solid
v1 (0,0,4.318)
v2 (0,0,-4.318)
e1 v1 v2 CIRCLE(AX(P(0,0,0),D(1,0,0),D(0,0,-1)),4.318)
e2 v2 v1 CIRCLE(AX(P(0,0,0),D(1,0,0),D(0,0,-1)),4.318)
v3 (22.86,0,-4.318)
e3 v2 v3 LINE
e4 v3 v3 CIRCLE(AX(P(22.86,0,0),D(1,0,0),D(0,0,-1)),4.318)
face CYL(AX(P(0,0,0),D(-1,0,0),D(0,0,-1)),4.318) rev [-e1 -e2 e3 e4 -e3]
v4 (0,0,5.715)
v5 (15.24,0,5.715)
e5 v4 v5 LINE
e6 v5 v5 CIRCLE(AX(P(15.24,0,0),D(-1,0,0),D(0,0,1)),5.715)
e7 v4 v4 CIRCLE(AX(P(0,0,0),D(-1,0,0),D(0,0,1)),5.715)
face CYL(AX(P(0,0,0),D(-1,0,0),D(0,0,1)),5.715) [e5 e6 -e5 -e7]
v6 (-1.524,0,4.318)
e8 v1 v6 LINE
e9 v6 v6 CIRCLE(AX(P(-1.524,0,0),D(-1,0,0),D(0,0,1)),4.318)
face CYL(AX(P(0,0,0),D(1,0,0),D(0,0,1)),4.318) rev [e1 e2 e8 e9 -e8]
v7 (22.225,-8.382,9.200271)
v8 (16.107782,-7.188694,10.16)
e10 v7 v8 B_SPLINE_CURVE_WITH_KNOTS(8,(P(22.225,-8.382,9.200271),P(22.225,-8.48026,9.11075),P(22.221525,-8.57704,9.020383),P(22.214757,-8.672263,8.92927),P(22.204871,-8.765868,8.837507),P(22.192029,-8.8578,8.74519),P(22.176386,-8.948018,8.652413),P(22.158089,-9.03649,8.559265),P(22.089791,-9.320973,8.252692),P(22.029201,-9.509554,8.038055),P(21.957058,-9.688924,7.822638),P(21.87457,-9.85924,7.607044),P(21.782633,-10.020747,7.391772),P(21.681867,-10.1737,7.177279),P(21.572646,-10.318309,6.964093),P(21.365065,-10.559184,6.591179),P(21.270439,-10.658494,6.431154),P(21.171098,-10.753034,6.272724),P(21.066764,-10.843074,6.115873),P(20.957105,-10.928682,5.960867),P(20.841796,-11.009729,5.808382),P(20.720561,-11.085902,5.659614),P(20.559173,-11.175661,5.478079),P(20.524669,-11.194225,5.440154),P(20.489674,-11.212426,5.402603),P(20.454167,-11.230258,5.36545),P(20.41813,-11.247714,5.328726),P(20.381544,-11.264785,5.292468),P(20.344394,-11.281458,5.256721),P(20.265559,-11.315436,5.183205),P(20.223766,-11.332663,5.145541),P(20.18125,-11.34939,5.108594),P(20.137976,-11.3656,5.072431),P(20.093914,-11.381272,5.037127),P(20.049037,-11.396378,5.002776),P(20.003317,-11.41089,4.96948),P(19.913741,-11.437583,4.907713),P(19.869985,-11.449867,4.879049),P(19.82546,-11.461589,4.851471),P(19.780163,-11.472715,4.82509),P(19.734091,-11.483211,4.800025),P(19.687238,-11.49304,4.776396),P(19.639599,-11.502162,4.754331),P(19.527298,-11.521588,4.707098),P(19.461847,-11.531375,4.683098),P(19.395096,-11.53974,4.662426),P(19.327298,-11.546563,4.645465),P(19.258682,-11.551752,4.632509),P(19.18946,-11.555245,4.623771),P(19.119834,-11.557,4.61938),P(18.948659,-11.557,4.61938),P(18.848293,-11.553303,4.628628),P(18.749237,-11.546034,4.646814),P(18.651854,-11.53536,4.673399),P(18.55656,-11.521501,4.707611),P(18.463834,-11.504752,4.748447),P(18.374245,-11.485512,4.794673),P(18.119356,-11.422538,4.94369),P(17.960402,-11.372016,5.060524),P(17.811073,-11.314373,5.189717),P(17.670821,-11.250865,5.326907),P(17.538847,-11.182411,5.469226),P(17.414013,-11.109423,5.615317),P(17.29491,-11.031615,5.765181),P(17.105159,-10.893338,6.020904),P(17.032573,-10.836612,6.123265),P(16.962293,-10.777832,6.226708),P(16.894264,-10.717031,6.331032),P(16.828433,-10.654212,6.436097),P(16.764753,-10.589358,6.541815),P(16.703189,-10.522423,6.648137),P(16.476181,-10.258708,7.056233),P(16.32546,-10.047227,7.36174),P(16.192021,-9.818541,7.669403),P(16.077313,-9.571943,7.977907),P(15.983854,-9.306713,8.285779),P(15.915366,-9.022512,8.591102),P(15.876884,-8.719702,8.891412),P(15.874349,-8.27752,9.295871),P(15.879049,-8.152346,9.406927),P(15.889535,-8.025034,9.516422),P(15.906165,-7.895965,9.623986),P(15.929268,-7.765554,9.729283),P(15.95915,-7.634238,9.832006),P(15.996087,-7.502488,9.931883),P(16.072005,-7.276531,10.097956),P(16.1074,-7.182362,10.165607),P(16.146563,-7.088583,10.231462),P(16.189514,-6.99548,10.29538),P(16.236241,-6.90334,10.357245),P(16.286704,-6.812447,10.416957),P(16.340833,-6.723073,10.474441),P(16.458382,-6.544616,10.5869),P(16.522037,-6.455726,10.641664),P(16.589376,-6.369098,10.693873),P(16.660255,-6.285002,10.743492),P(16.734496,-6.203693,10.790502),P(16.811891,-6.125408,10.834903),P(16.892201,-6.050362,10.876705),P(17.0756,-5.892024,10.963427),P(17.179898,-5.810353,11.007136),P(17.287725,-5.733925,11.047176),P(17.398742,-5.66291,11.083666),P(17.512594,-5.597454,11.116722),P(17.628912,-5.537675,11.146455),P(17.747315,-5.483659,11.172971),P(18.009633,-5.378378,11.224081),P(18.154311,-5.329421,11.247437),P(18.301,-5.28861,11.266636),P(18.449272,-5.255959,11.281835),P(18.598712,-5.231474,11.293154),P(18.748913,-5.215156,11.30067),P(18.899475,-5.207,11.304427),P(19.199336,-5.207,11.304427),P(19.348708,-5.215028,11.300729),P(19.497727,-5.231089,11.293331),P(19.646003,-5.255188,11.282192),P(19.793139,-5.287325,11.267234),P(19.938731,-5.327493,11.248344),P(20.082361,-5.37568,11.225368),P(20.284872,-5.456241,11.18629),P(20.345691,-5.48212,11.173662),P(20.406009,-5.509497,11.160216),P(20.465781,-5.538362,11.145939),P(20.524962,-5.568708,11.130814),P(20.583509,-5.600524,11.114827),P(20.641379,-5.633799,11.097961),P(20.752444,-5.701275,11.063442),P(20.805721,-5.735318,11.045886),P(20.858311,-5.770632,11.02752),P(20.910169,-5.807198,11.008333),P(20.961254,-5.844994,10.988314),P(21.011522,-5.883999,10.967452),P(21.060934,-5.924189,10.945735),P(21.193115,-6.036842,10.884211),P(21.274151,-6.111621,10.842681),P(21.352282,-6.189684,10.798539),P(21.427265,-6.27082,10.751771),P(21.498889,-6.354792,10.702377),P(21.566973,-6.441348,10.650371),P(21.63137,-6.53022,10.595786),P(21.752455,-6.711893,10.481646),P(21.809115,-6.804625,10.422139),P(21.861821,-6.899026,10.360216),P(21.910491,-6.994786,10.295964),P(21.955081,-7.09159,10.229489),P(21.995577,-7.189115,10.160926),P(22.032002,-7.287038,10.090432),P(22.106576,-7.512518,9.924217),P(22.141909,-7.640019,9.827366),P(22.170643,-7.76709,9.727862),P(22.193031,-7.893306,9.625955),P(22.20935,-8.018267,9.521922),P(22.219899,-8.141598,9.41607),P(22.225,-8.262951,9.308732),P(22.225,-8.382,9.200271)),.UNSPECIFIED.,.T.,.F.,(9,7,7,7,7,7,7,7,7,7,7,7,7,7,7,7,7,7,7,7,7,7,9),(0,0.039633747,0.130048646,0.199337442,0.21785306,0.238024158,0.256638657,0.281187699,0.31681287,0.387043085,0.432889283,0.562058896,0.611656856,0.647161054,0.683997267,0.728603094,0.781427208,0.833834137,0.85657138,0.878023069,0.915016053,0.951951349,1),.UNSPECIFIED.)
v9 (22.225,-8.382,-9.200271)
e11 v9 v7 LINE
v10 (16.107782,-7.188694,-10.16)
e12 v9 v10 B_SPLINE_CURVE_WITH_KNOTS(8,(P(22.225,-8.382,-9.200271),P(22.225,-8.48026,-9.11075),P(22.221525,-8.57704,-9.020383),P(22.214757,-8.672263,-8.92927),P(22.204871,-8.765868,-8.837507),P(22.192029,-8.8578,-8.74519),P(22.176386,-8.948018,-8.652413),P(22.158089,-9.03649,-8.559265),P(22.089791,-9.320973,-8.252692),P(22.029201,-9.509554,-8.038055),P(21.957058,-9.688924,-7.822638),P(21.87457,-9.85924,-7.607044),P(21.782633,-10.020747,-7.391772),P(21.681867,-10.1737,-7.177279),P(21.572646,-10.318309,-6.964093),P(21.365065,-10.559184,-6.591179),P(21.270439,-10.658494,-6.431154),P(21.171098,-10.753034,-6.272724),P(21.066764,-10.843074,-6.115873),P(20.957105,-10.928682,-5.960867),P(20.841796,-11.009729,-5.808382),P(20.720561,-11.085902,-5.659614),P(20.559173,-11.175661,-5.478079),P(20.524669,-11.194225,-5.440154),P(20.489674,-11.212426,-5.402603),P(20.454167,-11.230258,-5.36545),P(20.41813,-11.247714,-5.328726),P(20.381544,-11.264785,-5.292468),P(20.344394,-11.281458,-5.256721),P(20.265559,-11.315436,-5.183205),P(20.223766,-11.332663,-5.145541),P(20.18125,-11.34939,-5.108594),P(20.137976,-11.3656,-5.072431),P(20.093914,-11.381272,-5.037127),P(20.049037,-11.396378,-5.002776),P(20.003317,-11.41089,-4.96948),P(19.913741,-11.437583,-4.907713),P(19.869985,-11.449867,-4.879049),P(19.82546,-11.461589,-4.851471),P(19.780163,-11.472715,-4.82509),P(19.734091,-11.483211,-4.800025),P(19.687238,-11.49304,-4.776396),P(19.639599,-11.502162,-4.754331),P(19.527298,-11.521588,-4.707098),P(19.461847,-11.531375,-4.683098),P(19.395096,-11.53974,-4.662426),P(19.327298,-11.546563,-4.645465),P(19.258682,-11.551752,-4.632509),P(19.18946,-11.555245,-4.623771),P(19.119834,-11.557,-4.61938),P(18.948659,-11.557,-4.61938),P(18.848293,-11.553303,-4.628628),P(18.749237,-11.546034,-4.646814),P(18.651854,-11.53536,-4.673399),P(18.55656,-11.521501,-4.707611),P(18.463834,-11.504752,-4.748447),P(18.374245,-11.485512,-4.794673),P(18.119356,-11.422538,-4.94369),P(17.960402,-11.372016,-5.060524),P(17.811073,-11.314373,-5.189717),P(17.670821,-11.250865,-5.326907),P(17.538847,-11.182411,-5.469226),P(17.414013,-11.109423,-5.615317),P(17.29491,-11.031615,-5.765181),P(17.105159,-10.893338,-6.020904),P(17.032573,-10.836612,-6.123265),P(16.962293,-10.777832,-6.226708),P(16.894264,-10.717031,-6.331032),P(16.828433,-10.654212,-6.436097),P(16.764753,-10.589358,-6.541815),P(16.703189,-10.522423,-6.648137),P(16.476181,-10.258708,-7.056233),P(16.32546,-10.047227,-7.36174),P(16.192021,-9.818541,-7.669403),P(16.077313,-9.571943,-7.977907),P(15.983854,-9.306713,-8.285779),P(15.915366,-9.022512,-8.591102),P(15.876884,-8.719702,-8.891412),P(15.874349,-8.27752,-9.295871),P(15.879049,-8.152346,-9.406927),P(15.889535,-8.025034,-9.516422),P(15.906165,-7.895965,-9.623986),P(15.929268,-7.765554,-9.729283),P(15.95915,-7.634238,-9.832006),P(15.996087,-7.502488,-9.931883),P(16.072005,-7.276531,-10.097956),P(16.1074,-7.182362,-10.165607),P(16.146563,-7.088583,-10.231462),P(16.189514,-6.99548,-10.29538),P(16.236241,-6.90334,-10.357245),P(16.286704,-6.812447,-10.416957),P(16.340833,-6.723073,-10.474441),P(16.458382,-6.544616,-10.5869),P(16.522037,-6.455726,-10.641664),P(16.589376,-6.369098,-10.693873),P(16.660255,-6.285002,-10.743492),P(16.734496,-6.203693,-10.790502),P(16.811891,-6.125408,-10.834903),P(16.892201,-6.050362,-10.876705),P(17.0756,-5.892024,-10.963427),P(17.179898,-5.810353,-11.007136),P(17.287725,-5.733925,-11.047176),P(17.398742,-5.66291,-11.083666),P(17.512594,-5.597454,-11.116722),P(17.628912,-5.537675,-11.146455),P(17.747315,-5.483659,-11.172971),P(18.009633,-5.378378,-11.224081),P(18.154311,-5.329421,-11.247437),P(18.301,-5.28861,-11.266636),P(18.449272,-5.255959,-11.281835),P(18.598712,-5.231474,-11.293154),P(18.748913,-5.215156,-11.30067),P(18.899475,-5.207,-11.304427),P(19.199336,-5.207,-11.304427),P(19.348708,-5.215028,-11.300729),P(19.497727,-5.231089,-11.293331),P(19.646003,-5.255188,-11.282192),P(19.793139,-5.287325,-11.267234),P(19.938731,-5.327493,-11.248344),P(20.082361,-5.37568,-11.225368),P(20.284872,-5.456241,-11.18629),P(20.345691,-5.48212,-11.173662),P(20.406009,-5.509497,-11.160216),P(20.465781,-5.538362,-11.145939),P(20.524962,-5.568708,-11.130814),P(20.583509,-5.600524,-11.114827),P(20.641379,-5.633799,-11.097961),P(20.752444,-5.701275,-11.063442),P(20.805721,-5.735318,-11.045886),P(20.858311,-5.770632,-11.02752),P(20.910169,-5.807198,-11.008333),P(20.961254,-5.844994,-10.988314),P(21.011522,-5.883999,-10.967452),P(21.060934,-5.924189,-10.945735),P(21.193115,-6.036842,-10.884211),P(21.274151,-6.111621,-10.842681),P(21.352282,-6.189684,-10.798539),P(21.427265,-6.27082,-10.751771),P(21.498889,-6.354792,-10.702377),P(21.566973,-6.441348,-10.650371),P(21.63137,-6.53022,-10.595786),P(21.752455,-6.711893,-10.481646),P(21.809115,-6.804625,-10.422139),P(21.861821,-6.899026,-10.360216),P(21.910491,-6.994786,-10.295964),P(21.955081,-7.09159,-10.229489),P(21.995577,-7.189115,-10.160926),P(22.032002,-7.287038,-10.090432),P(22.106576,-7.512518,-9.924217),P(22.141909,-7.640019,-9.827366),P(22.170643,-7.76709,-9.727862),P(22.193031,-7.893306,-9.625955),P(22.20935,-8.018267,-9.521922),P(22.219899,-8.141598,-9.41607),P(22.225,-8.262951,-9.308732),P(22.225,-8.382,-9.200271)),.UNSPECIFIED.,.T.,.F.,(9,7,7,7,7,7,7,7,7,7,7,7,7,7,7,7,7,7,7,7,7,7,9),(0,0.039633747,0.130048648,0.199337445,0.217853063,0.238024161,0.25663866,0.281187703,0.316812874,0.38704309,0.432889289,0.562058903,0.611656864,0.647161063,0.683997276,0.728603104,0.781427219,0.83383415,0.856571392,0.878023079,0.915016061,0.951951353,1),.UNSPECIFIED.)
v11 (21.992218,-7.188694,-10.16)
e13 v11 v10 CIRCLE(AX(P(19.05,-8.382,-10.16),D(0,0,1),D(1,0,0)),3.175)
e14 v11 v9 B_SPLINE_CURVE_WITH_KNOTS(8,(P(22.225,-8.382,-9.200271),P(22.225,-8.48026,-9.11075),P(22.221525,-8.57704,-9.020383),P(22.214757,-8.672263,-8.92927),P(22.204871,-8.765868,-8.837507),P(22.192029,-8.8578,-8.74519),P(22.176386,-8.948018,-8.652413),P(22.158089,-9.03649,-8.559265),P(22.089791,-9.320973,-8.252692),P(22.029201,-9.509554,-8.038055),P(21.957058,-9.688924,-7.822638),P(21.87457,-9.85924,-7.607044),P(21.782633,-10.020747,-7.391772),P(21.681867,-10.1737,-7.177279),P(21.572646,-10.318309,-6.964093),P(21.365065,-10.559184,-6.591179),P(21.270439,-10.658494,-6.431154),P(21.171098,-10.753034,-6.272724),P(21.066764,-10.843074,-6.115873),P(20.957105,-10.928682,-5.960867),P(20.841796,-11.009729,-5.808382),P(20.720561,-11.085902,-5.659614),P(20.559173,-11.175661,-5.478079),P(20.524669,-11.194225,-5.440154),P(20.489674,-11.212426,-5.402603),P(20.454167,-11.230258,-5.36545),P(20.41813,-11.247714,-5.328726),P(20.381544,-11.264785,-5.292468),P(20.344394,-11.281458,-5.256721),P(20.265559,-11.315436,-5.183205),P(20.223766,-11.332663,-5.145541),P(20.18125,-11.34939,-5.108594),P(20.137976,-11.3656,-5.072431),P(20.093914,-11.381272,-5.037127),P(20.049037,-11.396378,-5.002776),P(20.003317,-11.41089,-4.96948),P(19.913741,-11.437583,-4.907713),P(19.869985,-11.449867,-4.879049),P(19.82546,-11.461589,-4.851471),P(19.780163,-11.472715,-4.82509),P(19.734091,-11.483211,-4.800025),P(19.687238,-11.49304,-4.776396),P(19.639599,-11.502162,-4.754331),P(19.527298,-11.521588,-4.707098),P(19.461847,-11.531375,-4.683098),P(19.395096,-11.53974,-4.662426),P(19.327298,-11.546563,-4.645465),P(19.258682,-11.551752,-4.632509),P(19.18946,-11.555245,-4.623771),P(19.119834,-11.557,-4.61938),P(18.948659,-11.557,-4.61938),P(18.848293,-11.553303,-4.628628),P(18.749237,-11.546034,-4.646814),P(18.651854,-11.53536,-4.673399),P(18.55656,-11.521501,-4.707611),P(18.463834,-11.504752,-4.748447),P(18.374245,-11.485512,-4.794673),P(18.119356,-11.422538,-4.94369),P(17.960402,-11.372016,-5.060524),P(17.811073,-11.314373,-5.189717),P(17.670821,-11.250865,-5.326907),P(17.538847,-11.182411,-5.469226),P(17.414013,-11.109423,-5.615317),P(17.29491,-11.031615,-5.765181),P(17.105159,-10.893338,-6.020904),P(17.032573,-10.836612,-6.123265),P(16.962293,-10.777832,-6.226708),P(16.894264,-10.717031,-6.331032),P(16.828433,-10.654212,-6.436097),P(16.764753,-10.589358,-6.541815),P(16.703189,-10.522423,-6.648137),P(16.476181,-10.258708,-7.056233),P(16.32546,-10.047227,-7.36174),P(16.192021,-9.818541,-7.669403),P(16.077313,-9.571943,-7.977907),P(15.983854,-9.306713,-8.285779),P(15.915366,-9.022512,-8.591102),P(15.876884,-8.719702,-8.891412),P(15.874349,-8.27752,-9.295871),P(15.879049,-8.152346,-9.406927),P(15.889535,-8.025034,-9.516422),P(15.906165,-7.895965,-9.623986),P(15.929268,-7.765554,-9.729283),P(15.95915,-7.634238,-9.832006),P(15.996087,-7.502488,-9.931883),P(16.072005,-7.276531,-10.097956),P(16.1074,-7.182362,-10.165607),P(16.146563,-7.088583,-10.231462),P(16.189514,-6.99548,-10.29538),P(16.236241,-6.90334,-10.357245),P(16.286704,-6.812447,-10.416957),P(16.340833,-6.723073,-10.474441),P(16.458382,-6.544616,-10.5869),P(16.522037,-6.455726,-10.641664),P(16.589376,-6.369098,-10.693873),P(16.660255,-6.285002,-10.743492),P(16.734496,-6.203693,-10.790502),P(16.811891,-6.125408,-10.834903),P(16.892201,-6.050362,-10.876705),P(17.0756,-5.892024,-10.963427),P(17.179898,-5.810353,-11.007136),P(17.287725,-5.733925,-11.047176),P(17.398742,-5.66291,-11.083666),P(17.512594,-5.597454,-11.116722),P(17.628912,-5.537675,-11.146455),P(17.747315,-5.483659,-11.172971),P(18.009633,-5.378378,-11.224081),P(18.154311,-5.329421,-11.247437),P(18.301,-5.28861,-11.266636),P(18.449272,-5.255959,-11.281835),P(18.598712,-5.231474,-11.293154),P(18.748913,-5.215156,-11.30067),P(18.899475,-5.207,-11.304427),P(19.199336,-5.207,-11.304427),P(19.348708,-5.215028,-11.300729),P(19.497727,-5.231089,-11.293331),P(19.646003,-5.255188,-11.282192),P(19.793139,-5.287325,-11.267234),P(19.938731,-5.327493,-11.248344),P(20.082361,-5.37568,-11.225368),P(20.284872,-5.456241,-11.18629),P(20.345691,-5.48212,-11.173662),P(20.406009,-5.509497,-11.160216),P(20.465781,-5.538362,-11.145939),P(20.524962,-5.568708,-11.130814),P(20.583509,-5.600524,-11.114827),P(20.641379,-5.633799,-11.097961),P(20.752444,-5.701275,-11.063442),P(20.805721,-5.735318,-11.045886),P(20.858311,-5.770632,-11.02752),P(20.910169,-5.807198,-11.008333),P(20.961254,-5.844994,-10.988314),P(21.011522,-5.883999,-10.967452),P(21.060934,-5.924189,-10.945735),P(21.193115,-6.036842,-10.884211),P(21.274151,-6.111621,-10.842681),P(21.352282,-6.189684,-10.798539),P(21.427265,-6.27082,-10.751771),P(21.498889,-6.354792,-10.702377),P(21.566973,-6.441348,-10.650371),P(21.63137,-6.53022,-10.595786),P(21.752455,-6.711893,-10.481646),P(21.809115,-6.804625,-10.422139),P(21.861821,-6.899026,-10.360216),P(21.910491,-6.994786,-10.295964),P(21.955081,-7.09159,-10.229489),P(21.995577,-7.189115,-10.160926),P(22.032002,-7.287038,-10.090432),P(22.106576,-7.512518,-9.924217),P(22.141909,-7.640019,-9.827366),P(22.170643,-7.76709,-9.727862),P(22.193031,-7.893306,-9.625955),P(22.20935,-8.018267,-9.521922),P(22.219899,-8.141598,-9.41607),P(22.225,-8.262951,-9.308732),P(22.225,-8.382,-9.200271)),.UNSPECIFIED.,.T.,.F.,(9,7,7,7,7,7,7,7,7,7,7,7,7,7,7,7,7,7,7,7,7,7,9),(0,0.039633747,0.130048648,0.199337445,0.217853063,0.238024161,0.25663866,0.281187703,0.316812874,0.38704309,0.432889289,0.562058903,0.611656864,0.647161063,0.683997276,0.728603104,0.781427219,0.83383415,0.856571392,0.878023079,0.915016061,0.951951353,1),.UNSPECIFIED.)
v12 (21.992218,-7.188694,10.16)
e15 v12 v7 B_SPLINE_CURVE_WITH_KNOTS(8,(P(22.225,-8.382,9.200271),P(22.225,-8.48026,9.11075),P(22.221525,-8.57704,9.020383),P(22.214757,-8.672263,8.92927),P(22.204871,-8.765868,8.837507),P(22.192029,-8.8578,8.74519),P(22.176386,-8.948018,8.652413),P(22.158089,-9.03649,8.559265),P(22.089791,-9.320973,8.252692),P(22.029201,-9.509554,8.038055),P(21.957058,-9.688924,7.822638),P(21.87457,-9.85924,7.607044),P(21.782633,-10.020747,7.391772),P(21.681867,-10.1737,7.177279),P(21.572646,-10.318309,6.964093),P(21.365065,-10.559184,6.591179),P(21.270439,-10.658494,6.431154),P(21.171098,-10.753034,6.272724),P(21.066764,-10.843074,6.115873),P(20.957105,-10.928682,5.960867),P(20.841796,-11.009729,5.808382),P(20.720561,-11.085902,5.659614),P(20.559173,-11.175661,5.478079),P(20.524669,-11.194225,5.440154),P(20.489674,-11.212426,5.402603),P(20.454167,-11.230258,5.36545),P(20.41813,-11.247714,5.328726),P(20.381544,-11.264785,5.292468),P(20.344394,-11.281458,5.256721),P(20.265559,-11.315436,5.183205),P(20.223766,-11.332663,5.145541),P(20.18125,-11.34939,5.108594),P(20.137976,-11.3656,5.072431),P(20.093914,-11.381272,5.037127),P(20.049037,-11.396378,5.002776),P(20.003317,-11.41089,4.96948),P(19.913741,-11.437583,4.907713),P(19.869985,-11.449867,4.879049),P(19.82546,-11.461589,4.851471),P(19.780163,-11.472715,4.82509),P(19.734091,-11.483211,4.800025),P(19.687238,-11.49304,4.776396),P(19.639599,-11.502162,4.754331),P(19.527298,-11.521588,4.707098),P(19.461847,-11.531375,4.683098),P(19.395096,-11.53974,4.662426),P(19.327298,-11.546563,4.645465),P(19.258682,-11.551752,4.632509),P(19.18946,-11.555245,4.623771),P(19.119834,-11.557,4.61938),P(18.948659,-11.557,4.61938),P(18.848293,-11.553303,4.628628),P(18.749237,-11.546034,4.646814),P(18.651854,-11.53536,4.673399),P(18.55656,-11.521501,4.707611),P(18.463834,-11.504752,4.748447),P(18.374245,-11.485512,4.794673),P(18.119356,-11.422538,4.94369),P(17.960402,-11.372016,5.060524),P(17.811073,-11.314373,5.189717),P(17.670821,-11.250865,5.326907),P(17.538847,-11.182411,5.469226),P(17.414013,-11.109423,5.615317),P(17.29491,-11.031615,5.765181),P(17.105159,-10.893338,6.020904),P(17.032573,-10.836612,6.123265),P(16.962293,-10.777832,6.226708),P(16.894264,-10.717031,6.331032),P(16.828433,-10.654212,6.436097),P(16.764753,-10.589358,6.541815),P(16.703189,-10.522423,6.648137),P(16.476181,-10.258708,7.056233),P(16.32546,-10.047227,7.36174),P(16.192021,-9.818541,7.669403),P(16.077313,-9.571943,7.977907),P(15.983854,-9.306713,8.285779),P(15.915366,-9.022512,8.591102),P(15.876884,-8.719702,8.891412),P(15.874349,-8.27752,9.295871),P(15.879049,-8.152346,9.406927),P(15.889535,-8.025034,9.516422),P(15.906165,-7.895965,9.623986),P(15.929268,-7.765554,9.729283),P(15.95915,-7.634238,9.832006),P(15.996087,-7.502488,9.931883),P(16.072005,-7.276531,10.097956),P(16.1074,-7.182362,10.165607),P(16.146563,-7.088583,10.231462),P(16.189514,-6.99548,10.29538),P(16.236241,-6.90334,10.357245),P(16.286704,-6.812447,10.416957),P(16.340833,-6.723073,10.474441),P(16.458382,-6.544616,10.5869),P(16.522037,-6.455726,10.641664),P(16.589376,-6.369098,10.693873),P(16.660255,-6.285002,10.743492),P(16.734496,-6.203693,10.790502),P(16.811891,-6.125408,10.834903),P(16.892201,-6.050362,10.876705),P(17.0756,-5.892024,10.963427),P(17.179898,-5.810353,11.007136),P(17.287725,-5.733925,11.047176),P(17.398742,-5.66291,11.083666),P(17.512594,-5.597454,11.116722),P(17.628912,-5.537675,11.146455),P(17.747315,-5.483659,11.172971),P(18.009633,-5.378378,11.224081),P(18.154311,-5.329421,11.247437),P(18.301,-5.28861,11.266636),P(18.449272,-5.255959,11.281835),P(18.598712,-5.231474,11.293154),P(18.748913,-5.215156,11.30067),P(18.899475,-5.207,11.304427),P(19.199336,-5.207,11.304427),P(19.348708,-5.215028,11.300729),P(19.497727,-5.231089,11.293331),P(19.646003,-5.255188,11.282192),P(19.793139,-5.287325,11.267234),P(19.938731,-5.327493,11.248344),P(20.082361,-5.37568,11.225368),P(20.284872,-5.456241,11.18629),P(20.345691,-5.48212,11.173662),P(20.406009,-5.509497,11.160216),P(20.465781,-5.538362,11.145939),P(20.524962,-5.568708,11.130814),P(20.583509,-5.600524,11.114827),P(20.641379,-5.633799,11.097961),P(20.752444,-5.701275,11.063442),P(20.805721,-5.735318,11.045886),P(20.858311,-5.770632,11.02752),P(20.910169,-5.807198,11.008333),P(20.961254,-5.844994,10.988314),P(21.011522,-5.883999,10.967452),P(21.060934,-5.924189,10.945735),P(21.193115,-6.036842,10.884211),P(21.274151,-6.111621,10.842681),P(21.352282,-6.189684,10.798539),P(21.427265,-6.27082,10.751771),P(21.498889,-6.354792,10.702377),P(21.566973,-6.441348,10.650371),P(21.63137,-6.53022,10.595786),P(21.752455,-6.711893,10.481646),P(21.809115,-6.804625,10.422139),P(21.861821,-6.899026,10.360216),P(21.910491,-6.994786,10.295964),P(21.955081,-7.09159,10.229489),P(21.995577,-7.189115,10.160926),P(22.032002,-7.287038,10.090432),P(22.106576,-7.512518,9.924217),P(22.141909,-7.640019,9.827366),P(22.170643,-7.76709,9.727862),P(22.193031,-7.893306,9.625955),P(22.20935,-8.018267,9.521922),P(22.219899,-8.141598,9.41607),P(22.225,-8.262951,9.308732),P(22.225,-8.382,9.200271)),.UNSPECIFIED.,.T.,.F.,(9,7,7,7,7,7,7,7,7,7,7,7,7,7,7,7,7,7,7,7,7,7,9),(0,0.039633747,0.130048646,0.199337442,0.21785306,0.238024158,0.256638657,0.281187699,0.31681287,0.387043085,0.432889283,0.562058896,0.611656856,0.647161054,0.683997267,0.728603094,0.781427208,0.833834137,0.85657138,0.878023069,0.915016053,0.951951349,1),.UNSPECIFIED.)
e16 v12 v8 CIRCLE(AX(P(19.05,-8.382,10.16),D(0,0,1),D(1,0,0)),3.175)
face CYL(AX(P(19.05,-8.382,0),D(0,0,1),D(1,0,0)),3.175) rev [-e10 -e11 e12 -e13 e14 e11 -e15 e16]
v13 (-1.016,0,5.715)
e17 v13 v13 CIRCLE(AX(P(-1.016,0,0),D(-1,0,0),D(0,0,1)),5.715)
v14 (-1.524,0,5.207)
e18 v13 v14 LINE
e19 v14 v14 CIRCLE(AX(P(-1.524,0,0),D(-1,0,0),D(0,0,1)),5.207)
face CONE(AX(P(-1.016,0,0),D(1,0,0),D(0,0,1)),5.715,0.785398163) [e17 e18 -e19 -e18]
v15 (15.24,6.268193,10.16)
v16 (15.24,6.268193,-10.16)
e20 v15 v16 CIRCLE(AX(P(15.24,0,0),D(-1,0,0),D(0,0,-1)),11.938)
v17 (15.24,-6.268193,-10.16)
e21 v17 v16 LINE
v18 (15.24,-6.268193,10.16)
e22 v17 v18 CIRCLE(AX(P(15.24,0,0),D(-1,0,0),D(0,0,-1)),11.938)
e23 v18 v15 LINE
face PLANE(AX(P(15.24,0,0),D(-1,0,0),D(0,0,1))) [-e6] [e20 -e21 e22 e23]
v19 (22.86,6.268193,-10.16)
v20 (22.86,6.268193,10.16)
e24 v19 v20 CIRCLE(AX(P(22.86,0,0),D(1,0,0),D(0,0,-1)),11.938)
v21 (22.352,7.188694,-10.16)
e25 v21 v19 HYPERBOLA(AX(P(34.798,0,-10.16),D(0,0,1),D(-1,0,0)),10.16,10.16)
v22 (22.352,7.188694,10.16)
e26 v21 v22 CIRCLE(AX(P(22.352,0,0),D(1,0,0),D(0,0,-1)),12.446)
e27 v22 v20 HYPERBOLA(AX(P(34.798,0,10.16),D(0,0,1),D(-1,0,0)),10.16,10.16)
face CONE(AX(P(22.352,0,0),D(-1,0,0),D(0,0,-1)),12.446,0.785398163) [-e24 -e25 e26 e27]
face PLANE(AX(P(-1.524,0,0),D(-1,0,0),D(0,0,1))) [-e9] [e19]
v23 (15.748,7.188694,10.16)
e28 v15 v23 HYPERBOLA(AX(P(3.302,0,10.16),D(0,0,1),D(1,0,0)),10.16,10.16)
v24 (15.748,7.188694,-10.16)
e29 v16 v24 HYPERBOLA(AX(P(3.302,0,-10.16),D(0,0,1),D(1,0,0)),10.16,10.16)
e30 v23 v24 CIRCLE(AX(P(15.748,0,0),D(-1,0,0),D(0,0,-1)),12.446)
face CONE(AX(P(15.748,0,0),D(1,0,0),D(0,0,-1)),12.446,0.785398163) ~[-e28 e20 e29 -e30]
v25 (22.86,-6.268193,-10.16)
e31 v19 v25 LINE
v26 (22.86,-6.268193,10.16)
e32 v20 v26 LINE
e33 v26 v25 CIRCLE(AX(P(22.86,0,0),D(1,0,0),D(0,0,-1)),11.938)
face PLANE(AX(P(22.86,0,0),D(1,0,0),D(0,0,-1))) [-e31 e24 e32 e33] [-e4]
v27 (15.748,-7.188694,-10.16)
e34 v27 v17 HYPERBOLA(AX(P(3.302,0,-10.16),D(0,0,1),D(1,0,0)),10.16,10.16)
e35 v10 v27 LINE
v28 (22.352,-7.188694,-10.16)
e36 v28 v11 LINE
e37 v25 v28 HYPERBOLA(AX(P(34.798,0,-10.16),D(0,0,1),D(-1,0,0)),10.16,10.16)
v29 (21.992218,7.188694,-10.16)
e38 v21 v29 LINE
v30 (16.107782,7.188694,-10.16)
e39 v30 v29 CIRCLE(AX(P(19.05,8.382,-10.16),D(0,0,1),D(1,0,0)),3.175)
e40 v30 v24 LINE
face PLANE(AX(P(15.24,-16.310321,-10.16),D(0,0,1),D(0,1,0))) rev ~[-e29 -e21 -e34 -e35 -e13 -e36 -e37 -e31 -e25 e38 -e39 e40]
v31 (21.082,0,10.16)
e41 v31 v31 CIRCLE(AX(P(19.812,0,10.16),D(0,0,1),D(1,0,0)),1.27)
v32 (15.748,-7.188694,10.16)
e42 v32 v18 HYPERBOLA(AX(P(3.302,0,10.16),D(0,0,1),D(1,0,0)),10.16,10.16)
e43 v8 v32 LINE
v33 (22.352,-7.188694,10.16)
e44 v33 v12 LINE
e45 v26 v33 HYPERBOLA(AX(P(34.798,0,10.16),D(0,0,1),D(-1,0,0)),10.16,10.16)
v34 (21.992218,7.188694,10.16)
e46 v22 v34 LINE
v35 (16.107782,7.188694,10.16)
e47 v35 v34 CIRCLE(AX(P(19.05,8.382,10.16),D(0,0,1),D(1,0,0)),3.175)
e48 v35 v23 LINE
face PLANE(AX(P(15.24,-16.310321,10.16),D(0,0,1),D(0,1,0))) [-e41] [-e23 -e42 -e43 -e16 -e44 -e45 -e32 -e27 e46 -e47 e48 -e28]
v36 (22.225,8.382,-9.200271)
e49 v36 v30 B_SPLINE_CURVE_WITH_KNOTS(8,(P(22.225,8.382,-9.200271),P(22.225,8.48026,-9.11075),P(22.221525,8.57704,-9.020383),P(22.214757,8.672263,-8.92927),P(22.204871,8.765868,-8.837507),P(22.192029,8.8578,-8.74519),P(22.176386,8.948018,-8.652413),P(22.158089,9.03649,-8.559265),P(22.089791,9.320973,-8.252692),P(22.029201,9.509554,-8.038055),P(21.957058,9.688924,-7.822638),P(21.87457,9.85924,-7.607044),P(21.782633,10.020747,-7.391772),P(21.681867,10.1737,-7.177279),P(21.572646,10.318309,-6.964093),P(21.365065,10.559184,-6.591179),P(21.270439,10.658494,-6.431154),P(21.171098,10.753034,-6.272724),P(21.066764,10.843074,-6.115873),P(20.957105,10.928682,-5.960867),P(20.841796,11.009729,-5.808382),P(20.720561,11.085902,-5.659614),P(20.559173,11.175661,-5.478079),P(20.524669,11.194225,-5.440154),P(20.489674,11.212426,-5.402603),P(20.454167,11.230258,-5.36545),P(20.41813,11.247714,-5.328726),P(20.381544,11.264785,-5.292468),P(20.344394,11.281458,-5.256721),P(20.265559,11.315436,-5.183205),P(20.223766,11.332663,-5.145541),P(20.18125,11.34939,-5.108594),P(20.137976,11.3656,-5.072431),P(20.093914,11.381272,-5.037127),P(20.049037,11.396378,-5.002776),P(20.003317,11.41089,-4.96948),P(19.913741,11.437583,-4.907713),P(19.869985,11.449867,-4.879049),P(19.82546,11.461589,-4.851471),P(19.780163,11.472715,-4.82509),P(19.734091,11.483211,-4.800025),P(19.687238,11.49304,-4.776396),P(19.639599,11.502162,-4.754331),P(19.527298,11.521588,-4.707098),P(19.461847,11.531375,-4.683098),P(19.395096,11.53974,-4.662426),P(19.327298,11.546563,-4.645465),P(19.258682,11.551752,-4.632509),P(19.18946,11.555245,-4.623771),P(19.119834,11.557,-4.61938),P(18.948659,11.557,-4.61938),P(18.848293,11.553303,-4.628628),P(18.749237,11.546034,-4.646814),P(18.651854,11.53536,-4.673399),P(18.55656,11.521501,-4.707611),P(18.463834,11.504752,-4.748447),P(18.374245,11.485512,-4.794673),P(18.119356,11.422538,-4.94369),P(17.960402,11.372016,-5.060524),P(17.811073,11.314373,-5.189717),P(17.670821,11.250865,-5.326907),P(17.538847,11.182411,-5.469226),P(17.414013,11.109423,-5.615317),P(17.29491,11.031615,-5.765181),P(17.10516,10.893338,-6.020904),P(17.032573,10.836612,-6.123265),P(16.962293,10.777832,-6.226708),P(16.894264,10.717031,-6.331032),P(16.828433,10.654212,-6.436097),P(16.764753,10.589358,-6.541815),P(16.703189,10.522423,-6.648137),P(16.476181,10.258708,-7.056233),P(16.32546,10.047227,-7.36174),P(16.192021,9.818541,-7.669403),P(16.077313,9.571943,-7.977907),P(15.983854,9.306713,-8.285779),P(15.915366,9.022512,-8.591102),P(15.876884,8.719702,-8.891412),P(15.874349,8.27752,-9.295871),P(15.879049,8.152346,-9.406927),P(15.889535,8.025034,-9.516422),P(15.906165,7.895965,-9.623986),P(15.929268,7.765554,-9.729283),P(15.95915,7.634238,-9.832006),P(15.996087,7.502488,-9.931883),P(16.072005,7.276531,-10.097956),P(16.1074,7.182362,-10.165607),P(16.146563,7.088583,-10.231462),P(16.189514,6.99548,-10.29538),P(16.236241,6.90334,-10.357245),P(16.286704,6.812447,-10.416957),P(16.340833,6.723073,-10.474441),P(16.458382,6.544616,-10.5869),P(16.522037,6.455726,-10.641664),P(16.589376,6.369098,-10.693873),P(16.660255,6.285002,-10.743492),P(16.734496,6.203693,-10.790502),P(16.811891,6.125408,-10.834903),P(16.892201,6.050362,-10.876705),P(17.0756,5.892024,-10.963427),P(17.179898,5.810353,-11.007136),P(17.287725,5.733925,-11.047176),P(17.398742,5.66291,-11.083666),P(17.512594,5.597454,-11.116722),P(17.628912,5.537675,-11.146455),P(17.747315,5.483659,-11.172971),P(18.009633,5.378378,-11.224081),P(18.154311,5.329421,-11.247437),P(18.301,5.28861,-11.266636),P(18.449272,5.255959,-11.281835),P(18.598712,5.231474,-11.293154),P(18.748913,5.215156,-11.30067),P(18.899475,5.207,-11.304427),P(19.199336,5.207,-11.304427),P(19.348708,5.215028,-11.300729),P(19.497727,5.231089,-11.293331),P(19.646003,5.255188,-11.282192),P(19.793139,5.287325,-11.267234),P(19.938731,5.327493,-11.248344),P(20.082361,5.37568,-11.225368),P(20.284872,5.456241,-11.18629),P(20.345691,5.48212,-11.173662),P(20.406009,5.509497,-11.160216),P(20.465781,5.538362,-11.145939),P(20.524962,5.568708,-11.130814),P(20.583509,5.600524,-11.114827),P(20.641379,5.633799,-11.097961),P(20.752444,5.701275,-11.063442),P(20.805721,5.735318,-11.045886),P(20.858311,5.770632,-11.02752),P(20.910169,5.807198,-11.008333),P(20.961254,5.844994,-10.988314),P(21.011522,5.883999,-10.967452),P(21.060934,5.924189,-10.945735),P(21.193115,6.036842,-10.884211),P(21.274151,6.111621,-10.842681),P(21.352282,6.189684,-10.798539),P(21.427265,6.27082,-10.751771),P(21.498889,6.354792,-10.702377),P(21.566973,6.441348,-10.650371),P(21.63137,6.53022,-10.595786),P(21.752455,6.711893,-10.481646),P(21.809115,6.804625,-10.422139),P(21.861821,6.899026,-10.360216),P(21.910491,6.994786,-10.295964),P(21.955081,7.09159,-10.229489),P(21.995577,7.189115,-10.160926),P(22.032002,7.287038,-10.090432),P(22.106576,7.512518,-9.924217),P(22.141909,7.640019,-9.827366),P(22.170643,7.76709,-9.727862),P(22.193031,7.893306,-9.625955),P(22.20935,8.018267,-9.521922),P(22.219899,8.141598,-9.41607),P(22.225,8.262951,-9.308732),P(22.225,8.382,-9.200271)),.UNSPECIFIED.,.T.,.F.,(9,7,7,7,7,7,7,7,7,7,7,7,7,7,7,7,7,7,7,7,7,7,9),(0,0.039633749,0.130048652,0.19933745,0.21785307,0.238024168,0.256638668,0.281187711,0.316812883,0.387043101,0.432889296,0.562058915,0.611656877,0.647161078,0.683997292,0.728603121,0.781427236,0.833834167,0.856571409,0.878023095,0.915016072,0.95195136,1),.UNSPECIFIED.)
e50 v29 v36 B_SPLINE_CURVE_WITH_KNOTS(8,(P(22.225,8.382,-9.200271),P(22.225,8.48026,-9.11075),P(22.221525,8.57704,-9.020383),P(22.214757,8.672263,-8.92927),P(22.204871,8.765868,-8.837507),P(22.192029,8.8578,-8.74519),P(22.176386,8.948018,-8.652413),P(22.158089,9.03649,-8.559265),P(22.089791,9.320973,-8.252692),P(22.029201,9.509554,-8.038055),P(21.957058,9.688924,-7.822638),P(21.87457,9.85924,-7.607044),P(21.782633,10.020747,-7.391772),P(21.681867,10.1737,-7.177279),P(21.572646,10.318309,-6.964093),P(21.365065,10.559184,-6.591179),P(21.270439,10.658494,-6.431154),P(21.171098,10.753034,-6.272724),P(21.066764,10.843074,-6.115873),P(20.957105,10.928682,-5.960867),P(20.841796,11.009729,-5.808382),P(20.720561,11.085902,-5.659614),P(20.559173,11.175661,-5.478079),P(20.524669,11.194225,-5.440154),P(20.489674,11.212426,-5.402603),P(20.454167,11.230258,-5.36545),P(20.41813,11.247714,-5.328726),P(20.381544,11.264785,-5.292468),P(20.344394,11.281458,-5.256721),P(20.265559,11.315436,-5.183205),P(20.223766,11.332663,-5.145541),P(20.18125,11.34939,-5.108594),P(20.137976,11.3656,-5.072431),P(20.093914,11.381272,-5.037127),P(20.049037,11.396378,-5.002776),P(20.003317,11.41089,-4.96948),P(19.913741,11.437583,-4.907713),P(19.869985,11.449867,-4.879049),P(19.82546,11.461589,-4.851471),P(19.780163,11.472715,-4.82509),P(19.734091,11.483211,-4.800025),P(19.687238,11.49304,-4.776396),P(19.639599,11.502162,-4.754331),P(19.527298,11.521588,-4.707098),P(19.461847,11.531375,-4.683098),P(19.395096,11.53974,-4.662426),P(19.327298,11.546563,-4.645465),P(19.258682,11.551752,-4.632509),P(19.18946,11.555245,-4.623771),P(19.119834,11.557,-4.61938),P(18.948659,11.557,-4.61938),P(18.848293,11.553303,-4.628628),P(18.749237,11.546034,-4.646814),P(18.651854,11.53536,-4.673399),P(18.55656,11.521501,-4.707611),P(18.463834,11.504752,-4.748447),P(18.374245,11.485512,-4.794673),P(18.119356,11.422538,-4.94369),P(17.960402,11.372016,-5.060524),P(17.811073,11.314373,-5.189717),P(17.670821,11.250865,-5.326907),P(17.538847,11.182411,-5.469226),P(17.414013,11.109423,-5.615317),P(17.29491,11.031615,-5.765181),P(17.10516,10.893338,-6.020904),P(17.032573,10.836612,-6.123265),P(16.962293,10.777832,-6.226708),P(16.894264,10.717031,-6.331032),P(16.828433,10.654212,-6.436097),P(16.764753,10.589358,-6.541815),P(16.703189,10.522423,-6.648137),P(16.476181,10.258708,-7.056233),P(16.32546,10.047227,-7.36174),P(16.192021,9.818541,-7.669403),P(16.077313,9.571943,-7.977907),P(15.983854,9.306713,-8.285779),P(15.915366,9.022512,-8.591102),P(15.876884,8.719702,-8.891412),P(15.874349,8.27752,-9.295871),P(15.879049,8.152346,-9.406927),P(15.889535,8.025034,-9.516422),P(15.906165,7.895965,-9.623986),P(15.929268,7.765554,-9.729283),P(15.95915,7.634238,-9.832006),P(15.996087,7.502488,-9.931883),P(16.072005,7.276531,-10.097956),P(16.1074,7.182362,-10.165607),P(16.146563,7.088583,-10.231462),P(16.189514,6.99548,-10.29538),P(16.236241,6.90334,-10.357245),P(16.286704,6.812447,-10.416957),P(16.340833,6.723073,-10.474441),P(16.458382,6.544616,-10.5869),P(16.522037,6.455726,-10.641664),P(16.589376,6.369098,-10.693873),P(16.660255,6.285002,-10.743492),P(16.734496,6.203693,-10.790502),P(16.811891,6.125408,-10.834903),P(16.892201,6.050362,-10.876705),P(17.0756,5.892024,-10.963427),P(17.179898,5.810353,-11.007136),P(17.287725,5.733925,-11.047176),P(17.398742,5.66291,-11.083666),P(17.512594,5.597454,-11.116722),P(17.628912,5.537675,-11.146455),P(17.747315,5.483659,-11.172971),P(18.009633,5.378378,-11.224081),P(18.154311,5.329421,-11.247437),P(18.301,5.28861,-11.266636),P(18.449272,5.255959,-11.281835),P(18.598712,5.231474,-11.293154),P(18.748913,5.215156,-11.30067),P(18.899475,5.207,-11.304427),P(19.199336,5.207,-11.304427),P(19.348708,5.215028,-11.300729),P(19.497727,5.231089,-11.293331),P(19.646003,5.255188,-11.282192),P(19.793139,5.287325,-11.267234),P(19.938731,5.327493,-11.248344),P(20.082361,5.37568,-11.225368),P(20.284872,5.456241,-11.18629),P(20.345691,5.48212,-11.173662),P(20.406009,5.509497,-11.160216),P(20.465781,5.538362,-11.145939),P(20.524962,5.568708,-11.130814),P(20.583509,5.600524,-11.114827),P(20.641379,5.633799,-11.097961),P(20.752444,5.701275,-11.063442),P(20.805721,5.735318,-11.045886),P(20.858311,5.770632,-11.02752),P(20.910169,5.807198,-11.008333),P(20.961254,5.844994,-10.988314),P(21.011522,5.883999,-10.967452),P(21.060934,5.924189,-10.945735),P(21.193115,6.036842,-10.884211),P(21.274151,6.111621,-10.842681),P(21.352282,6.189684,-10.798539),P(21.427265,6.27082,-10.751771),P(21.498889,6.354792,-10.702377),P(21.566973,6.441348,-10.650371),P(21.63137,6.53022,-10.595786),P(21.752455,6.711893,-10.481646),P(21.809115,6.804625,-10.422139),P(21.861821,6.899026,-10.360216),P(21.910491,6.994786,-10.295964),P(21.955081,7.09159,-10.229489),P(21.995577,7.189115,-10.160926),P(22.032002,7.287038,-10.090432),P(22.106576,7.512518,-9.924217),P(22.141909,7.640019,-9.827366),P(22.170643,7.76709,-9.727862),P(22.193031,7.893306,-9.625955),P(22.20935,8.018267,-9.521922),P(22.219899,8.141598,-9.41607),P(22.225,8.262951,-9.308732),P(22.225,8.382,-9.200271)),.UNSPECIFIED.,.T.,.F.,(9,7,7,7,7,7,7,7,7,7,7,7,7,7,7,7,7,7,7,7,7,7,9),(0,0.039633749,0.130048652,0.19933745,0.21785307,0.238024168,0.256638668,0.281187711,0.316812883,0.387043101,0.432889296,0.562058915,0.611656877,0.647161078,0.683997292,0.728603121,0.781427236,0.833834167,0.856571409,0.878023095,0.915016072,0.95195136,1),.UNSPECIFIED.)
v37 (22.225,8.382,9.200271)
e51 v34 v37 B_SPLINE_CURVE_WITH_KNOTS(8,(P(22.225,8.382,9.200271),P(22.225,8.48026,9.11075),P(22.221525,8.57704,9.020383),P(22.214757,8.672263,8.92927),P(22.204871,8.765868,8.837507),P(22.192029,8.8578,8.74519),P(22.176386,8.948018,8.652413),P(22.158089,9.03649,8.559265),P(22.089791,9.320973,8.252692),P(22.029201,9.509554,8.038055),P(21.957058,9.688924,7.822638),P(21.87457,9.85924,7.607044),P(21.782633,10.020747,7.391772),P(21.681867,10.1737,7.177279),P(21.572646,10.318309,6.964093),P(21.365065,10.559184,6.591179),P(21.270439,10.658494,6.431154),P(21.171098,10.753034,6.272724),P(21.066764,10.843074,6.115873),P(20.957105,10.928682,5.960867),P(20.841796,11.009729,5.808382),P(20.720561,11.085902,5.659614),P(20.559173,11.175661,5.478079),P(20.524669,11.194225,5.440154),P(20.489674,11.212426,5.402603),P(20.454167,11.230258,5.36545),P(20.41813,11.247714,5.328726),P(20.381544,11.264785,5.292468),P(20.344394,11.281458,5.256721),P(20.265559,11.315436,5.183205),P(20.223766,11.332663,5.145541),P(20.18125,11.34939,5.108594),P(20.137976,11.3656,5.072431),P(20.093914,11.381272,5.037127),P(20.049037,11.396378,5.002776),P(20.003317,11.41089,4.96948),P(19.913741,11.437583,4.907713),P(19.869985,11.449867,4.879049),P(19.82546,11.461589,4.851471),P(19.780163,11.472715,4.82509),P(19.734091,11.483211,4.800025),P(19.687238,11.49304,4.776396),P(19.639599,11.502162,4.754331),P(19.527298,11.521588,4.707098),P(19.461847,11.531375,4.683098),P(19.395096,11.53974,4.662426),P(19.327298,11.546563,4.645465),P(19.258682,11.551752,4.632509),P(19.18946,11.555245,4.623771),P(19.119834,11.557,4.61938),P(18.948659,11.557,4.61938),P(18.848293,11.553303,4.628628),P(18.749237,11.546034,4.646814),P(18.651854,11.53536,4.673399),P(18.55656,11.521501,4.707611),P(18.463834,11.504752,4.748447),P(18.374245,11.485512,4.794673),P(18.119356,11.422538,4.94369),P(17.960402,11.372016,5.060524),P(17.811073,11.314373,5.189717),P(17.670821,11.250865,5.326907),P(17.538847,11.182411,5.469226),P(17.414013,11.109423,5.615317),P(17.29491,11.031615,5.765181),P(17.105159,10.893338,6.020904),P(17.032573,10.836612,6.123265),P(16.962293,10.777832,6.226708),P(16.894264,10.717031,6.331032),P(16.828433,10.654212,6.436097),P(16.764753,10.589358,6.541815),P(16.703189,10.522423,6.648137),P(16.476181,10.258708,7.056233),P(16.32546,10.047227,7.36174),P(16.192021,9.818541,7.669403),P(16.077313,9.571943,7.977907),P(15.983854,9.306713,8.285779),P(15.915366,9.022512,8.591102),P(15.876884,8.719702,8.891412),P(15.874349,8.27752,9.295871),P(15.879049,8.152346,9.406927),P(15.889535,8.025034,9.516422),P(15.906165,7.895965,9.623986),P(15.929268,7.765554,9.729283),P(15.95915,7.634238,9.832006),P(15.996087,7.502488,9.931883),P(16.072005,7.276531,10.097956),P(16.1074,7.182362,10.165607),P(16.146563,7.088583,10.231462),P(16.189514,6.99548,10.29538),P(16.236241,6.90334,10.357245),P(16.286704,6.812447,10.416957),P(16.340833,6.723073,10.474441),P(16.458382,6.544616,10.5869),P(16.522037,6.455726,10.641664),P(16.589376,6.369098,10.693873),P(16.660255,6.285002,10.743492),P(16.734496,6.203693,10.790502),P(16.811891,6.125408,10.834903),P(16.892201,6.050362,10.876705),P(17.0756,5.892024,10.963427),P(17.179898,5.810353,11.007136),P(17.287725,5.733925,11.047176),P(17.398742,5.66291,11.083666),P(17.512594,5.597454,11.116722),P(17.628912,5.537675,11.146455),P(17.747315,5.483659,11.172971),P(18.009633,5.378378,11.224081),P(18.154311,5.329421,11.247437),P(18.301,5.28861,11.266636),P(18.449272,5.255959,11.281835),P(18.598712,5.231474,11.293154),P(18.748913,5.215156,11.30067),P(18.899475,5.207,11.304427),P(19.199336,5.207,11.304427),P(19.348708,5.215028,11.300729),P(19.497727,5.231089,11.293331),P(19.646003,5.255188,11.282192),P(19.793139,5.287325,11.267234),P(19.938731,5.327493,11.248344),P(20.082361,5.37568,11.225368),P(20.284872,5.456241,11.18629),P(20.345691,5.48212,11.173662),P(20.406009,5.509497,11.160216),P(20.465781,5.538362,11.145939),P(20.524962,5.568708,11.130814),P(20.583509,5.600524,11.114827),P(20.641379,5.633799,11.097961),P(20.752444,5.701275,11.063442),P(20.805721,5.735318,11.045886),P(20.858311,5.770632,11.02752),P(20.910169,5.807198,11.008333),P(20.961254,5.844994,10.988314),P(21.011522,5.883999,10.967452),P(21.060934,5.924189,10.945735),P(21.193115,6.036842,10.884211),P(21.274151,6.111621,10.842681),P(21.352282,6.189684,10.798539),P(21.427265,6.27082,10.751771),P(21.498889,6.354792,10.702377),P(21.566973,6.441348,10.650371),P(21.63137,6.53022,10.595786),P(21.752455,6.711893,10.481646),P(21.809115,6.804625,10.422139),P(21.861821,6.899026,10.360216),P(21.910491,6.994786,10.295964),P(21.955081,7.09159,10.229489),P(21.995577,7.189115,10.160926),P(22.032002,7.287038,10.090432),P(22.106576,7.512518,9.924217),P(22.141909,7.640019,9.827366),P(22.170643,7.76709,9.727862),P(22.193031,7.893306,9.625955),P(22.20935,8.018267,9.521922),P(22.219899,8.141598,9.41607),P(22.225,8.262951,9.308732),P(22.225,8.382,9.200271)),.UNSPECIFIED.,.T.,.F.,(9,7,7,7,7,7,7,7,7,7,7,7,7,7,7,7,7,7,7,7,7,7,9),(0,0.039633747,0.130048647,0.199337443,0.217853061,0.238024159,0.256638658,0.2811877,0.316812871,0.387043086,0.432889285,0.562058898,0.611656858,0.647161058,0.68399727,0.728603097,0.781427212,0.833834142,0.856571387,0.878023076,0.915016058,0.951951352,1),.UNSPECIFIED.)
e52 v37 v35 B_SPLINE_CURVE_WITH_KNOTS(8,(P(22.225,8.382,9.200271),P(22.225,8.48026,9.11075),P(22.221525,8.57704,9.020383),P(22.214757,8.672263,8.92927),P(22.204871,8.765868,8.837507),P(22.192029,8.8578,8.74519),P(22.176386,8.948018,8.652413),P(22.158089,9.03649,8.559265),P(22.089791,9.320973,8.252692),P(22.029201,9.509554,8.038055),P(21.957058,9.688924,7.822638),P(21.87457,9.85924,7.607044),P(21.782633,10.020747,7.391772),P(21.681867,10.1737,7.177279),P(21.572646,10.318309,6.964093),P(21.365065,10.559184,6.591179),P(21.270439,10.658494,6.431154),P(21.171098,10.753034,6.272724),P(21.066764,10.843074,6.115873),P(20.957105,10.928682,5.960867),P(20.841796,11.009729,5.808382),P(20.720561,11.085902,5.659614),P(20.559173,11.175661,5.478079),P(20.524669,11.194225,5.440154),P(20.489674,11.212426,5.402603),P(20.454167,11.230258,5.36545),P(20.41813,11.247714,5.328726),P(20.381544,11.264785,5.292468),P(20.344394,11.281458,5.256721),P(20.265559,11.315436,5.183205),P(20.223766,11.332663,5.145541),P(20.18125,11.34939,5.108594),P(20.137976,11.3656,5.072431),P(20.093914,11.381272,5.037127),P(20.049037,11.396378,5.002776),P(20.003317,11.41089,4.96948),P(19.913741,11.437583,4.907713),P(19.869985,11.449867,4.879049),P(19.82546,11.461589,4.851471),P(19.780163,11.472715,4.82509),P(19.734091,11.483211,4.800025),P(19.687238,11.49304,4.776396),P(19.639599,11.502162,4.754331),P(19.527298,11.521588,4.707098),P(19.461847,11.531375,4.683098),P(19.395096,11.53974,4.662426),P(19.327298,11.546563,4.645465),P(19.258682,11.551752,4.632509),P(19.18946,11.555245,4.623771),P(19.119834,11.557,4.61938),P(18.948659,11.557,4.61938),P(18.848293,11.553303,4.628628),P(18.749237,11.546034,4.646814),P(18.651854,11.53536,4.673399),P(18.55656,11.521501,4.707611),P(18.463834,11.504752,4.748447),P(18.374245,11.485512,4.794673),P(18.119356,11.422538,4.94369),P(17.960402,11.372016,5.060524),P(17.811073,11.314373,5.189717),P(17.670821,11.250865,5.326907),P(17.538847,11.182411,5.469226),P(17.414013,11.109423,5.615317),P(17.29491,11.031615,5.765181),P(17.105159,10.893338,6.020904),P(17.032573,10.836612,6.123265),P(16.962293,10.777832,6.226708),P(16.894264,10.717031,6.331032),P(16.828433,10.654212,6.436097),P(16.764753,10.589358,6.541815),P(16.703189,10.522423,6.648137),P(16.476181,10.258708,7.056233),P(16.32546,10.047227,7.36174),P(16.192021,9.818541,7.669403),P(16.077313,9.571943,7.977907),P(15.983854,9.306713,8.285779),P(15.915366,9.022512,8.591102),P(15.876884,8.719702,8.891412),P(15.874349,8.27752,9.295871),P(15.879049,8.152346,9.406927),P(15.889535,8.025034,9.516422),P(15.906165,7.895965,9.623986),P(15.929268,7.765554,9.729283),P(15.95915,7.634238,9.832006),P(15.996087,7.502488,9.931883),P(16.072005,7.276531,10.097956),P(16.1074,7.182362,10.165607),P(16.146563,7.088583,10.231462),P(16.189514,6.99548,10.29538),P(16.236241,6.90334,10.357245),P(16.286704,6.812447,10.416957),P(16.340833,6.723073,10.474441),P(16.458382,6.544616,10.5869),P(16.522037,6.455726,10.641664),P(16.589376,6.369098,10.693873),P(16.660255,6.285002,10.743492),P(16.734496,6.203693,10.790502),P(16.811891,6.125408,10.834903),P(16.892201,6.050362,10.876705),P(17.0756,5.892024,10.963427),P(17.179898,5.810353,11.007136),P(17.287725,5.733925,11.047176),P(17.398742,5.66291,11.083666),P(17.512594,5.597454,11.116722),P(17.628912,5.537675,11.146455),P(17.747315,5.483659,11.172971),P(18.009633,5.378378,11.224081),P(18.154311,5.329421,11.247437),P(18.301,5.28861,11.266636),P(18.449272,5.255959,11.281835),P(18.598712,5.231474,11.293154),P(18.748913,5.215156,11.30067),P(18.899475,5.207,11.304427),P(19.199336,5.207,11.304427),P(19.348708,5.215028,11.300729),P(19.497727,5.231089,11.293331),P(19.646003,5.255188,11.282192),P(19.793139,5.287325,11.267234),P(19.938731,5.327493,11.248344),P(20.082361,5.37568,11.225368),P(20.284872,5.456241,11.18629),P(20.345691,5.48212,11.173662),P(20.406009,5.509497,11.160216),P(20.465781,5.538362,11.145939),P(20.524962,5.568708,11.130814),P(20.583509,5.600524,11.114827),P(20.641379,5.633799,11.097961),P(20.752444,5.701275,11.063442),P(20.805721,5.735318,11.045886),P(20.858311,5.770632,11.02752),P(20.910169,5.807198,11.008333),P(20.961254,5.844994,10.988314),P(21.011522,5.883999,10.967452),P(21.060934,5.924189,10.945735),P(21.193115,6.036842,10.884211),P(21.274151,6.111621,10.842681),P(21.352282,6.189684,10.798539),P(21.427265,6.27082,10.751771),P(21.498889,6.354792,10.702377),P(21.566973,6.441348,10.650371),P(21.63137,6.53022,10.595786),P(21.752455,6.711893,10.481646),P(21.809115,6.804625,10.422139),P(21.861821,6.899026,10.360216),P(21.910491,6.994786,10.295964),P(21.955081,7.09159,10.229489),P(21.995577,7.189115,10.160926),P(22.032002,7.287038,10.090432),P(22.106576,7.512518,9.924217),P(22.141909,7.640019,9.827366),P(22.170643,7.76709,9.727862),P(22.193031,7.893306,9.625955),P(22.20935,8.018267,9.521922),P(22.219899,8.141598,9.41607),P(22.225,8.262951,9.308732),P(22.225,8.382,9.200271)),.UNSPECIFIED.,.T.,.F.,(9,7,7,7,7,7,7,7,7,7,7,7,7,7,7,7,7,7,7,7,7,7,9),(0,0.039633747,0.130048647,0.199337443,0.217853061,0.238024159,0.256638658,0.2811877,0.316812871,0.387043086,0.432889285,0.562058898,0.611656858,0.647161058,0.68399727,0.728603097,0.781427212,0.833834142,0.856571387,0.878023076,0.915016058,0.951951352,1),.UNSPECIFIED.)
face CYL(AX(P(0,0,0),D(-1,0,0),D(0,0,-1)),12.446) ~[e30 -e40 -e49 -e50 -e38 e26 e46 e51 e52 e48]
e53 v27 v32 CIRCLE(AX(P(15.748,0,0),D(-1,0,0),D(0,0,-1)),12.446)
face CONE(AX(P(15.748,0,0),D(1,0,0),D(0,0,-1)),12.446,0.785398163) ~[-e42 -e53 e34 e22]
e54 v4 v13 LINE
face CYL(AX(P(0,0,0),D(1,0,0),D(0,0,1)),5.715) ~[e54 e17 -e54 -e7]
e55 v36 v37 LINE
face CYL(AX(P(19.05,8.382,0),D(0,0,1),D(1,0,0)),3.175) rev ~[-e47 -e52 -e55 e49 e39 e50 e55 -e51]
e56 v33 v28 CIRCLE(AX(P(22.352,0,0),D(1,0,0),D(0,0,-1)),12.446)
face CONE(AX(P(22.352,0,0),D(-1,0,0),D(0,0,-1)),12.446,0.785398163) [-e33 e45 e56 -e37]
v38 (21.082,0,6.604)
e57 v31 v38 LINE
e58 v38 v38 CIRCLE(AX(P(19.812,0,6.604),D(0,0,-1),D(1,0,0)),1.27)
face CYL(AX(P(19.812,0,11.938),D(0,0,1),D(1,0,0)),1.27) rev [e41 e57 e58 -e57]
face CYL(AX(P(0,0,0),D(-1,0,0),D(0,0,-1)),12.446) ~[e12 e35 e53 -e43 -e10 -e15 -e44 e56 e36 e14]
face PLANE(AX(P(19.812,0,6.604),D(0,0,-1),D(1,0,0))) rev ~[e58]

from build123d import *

# Parameters (mm, degrees)
SKETCH1_R               = 12.446
SKETCH1_R_2             = 4.318
BOSS_EXTRUDE1_DEPTH     = 22.86
SKETCH2_R               = 3.175
CUT_EXTRUDE1_DEPTH      = 13.446
SKETCH4_R               = 25.4
SKETCH4_R_2             = 5.715
CUT_EXTRUDE3_DEPTH      = 15.24
SKETCH7_R               = 1.27
CUT_EXTRUDE4_DEPTH      = 5.334
CUT_EXTRUDE4_DEPTH_BACK = 1.5080001
SKETCH8_R               = 5.715
SKETCH8_R_2             = 4.318
BOSS_EXTRUDE2_DEPTH     = 1.524
CHAMFER1_SIZE           = 0.508
SKETCH9_R               = 23.611709968
SKETCH9_W               = 20.32
SKETCH9_H               = 32.6206423
CUT_EXTRUDE5_DEPTH      = 13.97


with BuildPart() as part:
    # Sketch1 → Boss-Extrude1 (new body)
    with BuildSketch(Plane(origin=(0, 0, 0), x_dir=(0, 0, -1), z_dir=(1, 0, 0))):
        Circle(SKETCH1_R)
        Circle(SKETCH1_R_2, mode=Mode.SUBTRACT)
    extrude(amount=BOSS_EXTRUDE1_DEPTH)

    # Sketch2 → Cut-Extrude1 (cut, symmetric)
    with BuildSketch(Plane.XY):
        with Locations((19.05, 8.382)):
            Circle(SKETCH2_R)
    cut_extrude1 = extrude(amount=CUT_EXTRUDE1_DEPTH, both=True, mode=Mode.SUBTRACT)

    # Mirror1: Cut-Extrude1 across plane
    add(cut_extrude1.mirror(Plane.ZX), mode=Mode.SUBTRACT)

    # Sketch4 → Cut-Extrude3 (cut)
    with BuildSketch(Plane.ZY):
        Circle(SKETCH4_R)
        Circle(SKETCH4_R_2, mode=Mode.SUBTRACT)
    extrude(amount=-CUT_EXTRUDE3_DEPTH, mode=Mode.SUBTRACT)

    # Sketch7 → Cut-Extrude4 (cut, two sides)
    with BuildSketch(Plane(origin=(0, 0, 11.938), x_dir=(1, 0, 0), z_dir=(0, 0, -1))) as cut_extrude4_sk:
        with Locations((19.812, 0)):
            Circle(SKETCH7_R)
    extrude(amount=CUT_EXTRUDE4_DEPTH, mode=Mode.SUBTRACT)
    extrude(cut_extrude4_sk.sketch, amount=-CUT_EXTRUDE4_DEPTH_BACK, mode=Mode.SUBTRACT)

    # Sketch8 → Boss-Extrude2 (add)
    with BuildSketch(Plane.ZY):
        Circle(SKETCH8_R)
        Circle(SKETCH8_R_2, mode=Mode.SUBTRACT)
    extrude(amount=BOSS_EXTRUDE2_DEPTH)

    # Chamfer1
    chamfer1_edges = [part.edges().sort_by_distance(p)[0] for p in [
        (15.24, 0, 12.446),
        (-1.524, 0, -5.715),
        (22.86, 0, 12.446),
    ]]
    chamfer(chamfer1_edges, length=CHAMFER1_SIZE)

    # Sketch9 → Cut-Extrude5 (cut)
    with BuildSketch(Plane.ZY.offset(-15.24)):
        Circle(SKETCH9_R)
        Rectangle(SKETCH9_W, SKETCH9_H, mode=Mode.SUBTRACT)
    extrude(amount=-CUT_EXTRUDE5_DEPTH, mode=Mode.SUBTRACT)


solid = part.part
